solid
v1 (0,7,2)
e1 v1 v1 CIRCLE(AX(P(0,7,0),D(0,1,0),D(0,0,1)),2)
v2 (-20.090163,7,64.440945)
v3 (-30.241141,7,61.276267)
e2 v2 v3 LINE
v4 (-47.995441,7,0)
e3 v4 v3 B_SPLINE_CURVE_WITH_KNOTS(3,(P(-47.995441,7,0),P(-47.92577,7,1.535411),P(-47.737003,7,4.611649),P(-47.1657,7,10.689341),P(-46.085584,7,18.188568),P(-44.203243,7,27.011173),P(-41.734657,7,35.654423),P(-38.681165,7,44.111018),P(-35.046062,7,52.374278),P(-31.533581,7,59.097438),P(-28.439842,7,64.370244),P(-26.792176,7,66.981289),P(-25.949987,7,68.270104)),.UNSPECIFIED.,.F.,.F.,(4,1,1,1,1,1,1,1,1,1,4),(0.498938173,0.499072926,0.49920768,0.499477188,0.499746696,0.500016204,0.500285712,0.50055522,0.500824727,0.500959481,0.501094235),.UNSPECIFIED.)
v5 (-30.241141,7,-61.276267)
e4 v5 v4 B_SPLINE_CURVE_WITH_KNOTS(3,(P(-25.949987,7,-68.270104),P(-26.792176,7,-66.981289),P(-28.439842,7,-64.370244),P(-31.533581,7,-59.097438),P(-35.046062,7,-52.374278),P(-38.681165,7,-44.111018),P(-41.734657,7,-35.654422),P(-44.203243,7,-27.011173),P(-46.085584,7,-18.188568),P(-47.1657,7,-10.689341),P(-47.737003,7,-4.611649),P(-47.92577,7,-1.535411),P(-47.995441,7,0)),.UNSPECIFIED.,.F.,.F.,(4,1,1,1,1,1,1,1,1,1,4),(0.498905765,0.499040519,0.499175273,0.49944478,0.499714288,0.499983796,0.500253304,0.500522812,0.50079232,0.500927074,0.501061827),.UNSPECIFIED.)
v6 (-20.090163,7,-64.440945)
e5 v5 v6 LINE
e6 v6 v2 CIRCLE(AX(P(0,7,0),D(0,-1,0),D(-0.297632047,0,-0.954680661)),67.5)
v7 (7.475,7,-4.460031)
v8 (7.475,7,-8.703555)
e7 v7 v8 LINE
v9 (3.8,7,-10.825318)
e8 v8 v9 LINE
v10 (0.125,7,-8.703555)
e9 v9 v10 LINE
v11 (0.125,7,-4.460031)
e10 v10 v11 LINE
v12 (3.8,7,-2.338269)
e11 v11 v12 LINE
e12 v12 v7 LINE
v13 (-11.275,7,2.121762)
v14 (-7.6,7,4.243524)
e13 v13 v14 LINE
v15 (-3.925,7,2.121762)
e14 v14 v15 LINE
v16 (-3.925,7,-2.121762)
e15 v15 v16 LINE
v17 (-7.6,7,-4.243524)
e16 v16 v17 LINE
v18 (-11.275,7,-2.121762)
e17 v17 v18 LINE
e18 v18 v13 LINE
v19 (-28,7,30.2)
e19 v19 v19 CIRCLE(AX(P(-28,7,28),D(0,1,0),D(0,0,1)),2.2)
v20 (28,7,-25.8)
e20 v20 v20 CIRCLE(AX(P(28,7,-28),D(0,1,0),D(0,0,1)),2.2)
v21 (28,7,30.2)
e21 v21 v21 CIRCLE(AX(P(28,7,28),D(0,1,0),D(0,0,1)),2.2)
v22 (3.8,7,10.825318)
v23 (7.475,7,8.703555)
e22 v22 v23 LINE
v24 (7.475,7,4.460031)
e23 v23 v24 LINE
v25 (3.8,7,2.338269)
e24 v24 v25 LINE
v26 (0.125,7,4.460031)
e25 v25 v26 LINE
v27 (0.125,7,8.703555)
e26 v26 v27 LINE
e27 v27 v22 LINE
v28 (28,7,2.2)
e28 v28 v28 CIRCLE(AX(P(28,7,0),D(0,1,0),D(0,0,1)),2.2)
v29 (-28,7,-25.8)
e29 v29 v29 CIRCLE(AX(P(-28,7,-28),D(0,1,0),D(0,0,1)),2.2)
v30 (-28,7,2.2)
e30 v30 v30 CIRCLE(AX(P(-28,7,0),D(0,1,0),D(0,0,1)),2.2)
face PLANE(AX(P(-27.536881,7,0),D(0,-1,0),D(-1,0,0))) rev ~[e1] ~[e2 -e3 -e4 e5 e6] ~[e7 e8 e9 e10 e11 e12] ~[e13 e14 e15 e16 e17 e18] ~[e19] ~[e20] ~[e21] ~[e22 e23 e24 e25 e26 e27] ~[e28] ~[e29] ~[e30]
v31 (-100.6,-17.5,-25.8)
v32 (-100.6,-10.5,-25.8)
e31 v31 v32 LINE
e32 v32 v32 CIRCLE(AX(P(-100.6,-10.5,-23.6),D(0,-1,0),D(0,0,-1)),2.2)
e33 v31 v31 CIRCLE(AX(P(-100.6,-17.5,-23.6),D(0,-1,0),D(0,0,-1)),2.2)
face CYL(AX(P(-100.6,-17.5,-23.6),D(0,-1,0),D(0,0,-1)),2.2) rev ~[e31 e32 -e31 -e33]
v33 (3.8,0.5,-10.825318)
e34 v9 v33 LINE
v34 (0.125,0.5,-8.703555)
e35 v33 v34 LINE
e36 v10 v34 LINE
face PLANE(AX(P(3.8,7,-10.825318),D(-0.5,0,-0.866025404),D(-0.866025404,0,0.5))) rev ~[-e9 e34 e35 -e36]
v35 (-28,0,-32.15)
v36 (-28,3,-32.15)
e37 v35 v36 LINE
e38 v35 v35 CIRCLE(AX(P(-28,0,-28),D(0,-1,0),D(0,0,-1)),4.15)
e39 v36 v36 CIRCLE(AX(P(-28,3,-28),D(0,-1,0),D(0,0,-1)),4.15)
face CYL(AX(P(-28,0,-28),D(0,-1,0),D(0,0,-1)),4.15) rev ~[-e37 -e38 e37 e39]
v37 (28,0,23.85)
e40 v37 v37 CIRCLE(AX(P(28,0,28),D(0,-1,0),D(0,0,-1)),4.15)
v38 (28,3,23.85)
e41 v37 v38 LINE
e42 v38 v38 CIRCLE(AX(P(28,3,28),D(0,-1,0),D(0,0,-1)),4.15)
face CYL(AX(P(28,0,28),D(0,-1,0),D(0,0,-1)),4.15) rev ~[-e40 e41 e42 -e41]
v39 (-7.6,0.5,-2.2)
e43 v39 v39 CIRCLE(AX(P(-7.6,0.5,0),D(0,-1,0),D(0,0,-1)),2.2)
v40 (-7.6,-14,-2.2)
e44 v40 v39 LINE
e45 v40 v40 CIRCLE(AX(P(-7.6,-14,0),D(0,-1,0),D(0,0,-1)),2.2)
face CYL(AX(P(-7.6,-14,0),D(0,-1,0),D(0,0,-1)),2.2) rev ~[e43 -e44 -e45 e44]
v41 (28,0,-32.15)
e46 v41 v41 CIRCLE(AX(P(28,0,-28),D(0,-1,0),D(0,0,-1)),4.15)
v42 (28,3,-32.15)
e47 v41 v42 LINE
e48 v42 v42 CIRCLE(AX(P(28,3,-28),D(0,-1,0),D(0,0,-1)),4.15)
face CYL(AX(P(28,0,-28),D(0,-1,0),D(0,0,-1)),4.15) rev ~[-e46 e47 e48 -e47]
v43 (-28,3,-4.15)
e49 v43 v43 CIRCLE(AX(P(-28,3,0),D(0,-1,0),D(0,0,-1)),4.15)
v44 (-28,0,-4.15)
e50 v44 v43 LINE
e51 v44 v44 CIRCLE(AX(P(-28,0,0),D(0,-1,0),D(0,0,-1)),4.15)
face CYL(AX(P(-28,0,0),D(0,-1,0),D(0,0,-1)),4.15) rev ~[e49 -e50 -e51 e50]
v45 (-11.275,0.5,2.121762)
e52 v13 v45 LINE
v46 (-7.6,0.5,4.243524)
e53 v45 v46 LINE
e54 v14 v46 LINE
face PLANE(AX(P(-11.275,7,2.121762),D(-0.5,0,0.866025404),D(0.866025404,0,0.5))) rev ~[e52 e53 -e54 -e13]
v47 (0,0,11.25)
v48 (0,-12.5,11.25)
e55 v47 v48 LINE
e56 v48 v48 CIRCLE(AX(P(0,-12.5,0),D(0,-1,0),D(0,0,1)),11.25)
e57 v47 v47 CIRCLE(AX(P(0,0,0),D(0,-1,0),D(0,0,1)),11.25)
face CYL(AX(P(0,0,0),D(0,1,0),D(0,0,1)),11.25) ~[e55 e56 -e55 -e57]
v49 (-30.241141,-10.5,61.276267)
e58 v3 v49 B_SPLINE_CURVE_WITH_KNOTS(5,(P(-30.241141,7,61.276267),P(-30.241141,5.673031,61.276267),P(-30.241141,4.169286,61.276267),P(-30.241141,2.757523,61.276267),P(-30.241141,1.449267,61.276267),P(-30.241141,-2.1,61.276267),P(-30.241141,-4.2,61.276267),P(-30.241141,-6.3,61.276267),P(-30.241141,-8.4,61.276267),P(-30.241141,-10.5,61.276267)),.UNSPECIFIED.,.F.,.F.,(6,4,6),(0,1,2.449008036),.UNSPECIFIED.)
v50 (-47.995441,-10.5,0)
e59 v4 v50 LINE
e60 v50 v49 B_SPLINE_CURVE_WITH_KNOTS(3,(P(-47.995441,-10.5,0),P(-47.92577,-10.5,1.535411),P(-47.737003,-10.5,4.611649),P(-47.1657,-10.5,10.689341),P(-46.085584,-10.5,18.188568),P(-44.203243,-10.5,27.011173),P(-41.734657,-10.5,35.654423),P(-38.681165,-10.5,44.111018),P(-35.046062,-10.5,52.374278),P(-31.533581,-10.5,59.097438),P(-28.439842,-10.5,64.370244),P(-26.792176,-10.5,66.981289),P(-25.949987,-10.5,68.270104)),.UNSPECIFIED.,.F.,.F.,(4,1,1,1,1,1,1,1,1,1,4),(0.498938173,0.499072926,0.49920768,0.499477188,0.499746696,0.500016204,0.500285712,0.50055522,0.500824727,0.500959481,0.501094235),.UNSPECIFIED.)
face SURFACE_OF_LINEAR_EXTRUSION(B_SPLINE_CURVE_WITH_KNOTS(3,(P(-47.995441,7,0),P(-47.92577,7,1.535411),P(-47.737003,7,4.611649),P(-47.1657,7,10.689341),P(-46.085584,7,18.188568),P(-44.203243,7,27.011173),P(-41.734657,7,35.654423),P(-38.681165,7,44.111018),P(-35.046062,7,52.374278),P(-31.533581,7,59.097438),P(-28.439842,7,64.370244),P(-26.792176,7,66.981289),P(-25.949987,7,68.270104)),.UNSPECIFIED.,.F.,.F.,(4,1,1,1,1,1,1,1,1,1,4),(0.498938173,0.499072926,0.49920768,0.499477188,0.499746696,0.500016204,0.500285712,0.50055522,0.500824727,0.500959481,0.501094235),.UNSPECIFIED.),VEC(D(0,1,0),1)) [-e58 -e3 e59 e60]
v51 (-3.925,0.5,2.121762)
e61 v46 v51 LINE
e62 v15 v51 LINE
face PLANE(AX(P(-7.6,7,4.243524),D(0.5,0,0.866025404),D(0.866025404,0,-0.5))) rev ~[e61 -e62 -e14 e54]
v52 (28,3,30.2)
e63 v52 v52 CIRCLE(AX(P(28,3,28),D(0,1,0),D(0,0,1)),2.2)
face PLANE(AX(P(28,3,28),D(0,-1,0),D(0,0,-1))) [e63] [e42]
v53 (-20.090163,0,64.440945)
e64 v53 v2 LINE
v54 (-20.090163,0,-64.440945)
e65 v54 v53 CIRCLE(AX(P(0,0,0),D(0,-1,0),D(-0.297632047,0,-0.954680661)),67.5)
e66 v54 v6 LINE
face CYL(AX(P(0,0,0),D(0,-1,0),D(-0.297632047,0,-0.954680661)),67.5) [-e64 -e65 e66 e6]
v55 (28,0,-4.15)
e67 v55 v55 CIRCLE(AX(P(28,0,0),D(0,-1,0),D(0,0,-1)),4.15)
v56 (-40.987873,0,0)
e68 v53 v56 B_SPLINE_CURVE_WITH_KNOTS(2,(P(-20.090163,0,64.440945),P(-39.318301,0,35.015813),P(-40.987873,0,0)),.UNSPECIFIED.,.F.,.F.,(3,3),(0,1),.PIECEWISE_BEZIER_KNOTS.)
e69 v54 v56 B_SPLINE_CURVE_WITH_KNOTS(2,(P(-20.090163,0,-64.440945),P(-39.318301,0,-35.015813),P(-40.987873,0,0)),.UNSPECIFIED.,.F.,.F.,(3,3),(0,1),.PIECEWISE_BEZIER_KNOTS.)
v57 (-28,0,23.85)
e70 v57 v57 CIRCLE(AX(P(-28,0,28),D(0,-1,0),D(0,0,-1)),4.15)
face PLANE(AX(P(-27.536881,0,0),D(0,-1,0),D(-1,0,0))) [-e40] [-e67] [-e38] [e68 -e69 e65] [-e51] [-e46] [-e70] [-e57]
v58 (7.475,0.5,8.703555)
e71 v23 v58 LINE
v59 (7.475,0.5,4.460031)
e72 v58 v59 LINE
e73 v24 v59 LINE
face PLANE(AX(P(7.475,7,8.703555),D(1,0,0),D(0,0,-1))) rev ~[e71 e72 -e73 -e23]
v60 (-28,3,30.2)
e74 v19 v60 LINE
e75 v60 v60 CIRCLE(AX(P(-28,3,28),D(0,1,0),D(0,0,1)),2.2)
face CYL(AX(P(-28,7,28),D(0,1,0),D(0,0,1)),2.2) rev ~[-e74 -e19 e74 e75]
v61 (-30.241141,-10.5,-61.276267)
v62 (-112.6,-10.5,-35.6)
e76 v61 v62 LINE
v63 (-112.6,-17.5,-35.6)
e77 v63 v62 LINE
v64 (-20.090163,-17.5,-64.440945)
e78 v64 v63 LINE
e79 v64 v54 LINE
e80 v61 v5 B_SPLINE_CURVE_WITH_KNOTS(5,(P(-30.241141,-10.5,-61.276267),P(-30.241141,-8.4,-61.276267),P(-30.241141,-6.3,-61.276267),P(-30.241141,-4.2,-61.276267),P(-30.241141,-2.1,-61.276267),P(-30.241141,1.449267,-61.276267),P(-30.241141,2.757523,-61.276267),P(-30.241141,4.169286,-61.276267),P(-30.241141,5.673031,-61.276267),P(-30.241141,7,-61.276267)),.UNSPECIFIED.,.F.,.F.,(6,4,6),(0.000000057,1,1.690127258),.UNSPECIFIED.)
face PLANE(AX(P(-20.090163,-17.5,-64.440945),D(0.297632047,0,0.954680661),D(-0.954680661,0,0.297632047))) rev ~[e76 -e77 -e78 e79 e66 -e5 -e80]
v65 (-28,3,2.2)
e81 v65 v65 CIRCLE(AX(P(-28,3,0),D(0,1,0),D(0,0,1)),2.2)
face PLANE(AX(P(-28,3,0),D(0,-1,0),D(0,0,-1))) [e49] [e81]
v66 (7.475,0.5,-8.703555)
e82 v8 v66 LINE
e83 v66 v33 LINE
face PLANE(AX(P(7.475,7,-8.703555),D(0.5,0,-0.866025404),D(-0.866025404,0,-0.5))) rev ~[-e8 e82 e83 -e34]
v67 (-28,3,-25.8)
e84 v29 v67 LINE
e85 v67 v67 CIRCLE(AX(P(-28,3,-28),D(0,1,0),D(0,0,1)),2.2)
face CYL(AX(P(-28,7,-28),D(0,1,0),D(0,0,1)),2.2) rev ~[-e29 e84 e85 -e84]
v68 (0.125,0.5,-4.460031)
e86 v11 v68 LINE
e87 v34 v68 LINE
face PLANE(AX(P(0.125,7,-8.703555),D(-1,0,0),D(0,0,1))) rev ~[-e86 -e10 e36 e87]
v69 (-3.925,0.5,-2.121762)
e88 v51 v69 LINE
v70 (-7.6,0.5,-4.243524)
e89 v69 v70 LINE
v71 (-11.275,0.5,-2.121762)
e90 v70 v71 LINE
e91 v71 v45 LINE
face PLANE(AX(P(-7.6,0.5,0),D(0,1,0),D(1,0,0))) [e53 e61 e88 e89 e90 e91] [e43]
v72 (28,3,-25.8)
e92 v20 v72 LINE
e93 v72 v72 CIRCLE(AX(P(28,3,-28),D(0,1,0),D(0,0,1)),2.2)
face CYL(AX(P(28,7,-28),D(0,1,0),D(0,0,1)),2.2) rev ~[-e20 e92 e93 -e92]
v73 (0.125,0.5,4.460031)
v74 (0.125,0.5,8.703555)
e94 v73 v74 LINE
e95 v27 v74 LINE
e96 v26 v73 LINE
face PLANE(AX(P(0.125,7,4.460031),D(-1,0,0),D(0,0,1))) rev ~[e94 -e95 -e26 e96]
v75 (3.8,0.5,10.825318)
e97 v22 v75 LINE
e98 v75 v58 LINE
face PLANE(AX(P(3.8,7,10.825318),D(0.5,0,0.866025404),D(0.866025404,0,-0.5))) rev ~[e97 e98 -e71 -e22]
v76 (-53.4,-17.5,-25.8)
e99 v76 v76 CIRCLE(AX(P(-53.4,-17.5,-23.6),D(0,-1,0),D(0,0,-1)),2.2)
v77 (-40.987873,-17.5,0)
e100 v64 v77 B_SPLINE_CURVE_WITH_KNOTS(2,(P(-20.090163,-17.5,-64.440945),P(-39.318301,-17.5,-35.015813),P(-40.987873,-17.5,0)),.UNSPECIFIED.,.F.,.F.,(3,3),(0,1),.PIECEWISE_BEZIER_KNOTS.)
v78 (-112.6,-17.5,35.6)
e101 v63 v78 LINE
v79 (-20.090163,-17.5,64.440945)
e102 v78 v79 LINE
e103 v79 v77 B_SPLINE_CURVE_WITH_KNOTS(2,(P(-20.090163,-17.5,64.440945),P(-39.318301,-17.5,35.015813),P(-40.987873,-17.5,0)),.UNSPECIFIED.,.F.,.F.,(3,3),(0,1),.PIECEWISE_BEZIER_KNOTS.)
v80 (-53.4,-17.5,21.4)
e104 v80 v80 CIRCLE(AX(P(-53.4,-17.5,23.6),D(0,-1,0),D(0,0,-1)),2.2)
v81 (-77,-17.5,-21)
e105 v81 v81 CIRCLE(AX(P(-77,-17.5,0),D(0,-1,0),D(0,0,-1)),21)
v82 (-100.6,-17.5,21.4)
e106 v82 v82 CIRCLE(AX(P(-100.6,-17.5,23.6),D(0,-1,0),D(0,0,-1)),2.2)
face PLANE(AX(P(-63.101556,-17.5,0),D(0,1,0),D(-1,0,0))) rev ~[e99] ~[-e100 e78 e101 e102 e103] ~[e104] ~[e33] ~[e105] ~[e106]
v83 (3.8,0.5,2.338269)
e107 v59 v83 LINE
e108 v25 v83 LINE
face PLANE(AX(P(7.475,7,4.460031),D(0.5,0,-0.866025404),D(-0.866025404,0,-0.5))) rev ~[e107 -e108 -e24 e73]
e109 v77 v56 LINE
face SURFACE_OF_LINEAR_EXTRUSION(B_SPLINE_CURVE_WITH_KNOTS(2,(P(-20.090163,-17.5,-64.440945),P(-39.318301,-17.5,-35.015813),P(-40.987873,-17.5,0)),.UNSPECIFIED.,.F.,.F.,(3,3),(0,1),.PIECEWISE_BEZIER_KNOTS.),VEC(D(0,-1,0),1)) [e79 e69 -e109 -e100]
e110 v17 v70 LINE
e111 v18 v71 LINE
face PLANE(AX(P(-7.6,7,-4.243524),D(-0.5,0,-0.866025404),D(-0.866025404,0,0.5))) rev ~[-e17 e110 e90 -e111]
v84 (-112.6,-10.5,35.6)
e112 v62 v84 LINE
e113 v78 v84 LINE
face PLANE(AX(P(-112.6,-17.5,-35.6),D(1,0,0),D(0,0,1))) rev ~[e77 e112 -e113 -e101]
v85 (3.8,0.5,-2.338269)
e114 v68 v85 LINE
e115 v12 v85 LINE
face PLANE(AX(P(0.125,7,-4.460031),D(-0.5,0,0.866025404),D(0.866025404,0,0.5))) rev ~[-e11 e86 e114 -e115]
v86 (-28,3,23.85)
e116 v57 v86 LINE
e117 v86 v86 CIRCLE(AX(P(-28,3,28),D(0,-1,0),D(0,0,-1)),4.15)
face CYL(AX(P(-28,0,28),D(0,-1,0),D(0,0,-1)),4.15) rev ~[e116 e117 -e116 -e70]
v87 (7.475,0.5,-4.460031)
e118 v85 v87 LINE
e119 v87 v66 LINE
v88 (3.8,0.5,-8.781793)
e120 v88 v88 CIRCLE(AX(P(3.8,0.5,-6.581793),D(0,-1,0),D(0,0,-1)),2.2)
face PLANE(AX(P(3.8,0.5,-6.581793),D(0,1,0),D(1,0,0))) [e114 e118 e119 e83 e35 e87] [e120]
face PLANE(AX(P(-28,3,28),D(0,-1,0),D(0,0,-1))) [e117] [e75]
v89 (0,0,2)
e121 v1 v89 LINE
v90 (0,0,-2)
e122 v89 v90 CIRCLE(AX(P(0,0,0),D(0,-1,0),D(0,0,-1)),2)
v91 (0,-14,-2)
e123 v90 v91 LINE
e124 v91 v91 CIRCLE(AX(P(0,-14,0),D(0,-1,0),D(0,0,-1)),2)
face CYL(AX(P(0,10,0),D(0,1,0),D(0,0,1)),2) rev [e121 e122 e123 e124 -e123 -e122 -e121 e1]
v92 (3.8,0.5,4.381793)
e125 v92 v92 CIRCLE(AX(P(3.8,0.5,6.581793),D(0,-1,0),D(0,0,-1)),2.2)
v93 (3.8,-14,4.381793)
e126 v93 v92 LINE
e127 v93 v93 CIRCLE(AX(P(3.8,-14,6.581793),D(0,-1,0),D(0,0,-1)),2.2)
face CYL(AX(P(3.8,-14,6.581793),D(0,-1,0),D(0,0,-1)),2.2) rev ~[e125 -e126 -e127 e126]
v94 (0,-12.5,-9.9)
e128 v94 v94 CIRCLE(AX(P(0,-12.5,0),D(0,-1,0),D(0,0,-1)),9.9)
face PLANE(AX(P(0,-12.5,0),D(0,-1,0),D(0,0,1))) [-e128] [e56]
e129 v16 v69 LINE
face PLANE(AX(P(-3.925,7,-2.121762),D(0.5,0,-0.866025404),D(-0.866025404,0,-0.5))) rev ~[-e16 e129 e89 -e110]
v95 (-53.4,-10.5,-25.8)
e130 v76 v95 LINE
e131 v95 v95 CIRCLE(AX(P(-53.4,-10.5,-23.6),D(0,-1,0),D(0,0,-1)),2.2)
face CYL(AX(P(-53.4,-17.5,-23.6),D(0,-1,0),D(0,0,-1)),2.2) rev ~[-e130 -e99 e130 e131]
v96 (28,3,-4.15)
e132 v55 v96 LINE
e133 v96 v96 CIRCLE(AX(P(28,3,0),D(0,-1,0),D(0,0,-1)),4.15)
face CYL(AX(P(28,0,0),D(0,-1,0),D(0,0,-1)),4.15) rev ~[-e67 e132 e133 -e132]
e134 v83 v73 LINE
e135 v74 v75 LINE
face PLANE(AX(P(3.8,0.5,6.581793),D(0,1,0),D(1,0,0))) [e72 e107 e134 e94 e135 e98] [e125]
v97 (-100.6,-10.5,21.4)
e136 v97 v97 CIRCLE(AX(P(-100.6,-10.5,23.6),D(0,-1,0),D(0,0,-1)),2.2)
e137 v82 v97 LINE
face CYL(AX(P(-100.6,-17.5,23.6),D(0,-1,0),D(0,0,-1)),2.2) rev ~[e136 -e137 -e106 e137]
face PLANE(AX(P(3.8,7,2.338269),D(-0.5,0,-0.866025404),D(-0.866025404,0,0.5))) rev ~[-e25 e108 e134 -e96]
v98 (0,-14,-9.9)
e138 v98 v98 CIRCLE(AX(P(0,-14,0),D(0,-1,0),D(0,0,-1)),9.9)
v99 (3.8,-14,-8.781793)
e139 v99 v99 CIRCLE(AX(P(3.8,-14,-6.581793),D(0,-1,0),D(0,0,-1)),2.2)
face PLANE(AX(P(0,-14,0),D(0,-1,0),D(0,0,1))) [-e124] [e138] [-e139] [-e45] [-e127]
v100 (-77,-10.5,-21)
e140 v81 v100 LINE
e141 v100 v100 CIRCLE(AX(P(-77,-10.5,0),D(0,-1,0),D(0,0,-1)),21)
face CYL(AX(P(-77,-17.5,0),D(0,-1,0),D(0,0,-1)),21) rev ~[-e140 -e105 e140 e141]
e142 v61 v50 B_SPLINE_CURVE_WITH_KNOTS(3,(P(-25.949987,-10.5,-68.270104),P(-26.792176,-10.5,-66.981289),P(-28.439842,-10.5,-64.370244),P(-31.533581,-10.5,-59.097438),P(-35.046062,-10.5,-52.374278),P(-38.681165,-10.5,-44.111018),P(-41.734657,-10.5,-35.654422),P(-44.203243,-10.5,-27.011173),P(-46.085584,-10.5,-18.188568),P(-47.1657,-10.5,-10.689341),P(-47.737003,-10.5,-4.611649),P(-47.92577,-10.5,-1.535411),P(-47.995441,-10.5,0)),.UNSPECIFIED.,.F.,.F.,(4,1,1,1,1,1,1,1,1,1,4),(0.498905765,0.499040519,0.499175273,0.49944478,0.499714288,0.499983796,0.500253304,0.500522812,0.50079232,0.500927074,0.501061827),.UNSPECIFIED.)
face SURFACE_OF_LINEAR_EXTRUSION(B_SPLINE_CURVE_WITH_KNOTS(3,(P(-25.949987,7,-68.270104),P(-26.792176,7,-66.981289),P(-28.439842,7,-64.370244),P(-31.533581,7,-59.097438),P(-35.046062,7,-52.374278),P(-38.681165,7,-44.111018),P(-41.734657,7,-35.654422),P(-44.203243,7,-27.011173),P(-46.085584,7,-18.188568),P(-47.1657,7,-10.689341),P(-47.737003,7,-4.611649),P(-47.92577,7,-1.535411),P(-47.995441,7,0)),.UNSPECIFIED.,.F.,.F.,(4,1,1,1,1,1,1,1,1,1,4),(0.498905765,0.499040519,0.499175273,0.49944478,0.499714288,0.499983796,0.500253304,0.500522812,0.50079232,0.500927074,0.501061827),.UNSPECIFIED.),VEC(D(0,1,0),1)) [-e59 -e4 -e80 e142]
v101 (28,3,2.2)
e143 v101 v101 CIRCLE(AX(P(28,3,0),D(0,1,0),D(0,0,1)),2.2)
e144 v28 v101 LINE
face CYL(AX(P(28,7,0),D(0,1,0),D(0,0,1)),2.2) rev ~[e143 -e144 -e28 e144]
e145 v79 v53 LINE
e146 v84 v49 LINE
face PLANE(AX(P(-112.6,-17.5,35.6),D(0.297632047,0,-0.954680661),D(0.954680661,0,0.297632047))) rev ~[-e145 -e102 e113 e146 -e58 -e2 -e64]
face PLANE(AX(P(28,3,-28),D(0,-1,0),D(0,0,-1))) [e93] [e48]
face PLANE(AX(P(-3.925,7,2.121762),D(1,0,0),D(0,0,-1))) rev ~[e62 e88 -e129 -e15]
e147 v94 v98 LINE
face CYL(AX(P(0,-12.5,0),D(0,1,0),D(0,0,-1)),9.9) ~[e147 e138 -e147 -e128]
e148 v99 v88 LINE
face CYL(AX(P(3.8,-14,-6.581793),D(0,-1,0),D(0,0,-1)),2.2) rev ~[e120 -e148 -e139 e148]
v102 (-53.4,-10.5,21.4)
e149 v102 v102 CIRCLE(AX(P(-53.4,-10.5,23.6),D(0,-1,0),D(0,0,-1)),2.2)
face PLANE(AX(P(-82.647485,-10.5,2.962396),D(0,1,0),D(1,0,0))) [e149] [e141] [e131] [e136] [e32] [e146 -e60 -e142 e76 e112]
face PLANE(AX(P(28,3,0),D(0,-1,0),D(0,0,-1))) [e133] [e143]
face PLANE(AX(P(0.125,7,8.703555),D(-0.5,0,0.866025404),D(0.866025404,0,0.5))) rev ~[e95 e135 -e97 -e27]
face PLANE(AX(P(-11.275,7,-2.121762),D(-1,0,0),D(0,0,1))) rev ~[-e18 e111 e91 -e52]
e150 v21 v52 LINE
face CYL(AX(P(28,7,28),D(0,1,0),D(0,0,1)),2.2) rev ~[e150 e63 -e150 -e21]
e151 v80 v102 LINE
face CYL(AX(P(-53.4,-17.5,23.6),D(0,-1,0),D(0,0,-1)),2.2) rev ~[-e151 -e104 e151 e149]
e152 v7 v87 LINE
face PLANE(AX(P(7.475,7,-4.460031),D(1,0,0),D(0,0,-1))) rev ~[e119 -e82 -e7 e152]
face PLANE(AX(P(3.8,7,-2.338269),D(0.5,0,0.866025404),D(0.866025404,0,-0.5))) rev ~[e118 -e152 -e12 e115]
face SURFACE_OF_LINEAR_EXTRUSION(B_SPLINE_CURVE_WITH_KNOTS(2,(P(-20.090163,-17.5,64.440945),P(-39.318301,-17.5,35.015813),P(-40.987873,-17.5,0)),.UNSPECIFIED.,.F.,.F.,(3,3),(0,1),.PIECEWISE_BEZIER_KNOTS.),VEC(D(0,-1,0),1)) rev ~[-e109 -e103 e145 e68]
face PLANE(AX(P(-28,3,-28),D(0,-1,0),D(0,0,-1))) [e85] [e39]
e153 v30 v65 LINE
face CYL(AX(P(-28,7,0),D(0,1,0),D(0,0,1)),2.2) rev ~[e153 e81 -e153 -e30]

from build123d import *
from build123d.topology import SkipClean

# Parameters (mm, degrees)
SKETCH1_R           = 21
SKETCH1_R_2         = 2.2
BOSS_EXTRUDE1_DEPTH = 7
SKETCH3_R           = 11.25
SKETCH3_R_2         = 2
BOSS_EXTRUDE2_DEPTH = 14
CUT_EXTRUDE1_START  = -1.5
SKETCH4_R           = 11.25
SKETCH4_R_2         = 9.9
CUT_EXTRUDE1_DEPTH  = 1.5
SKETCH5_R           = 2.2
CUT_EXTRUDE2_DEPTH  = 133.951156445
CUT_EXTRUDE3_DEPTH  = 6.5
CUT_EXTRUDE4_START  = -10
SKETCH7_R           = 2
CUT_EXTRUDE4_DEPTH  = 10
SKETCH8_R           = 2.2
CUT_EXTRUDE5_DEPTH  = 133.951156445
SKETCH9_R           = 4.15
CUT_EXTRUDE6_DEPTH  = 3
BOSS_EXTRUDE3_START = 17.5
SKETCH10_R          = 21
SKETCH10_R_2        = 2.2
BOSS_EXTRUDE3_DEPTH = 17.5
CUT_EXTRUDE7_DEPTH  = 17.5


with BuildPart() as part:
    # Sketch1 → Boss-Extrude1 (new body)
    with BuildSketch(Plane(origin=(0, 0, 0), x_dir=(1, 0, 0), z_dir=(0, 1, 0))):
        with BuildLine():
            Line((-112.6, -35.6), (-112.6, 35.6))
            Line((-112.6, 35.6), (-20.090163155, 64.440944627))
            ThreePointArc((-20.090163155, 64.440944627), (67.5, 0), (-20.090163155, -64.440944627))
            Line((-20.090163155, -64.440944627), (-112.6, -35.6))
        make_face()
        with Locations(Location((-77, 0, 0), (0, 0, 270))):
            Circle(SKETCH1_R, mode=Mode.SUBTRACT)
        with Locations(Location((-100.6, 23.6, 0), (0, 0, 270))):
            Circle(SKETCH1_R_2, mode=Mode.SUBTRACT)
        with Locations(Location((-100.6, -23.6, 0), (0, 0, 270))):
            Circle(SKETCH1_R_2, mode=Mode.SUBTRACT)
        with Locations(Location((-53.4, -23.6, 0), (0, 0, 270))):
            Circle(SKETCH1_R_2, mode=Mode.SUBTRACT)
        with Locations(Location((-53.4, 23.6, 0), (0, 0, 270))):
            Circle(SKETCH1_R_2, mode=Mode.SUBTRACT)
    extrude(amount=BOSS_EXTRUDE1_DEPTH)

    # Sketch3 → Boss-Extrude2 (add)
    with BuildSketch(Plane.XZ):
        with Locations(Location((0, 0, 0), (0, 0, 90))):
            Circle(SKETCH3_R)
        with Locations(Location((0, 0, 0), (0, 0, 270))):
            Circle(SKETCH3_R_2, mode=Mode.SUBTRACT)
    extrude(amount=BOSS_EXTRUDE2_DEPTH)

    # Sketch4 → Cut-Extrude1 (cut)
    with BuildSketch(Plane.XZ.offset(14).offset(CUT_EXTRUDE1_START)):
        with Locations(Location((0, 0, 0), (0, 0, 90))):
            Circle(SKETCH4_R)
        with Locations(Location((0, 0, 0), (0, 0, 270))):
            Circle(SKETCH4_R_2, mode=Mode.SUBTRACT)
    extrude(amount=CUT_EXTRUDE1_DEPTH, mode=Mode.SUBTRACT)

    # Sketch5 → Cut-Extrude2 (cut, through all)
    with BuildSketch(Plane.XZ.offset(14)):
        with Locations(Location((-7.6, 0, 0), (0, 0, 270))):
            Circle(SKETCH5_R)
        with Locations(Location((3.8, 6.581793069, 0), (0, 0, 270))):
            Circle(SKETCH5_R)
        with Locations(Location((3.8, -6.581793069, 0), (0, 0, 270))):
            Circle(SKETCH5_R)
    extrude(amount=-CUT_EXTRUDE2_DEPTH, mode=Mode.SUBTRACT)

    # Sketch6 → Cut-Extrude3 (cut)
    with BuildSketch(Plane(origin=(0, 7, 0), x_dir=(1, 0, 0), z_dir=(0, 1, 0))):
        Polygon((3.8, 2.33826859), (7.475, 4.460030829), (7.475, 8.703555308), (3.8, 10.825317547), (0.125, 8.703555308), (0.125, 4.460030829), align=None)
        Polygon((-7.6, -4.243524479), (-3.925, -2.121762239), (-3.925, 2.121762239), (-7.6, 4.243524479), (-11.275, 2.121762239), (-11.275, -2.121762239), align=None)
        Polygon((0.125, -4.460030829), (0.125, -8.703555308), (3.8, -10.825317547), (7.475, -8.703555308), (7.475, -4.460030829), (3.8, -2.33826859), align=None)
    extrude(amount=-CUT_EXTRUDE3_DEPTH, mode=Mode.SUBTRACT)

    # Sketch7 → Cut-Extrude4 (cut)
    with BuildSketch(Plane.XZ.offset(CUT_EXTRUDE4_START)):
        with Locations(Location((0, 0, 0), (0, 0, 90))):
            Circle(SKETCH7_R)
    extrude(amount=CUT_EXTRUDE4_DEPTH, mode=Mode.SUBTRACT)

    # Sketch8 → Cut-Extrude5 (cut, through all)
    with BuildSketch(Plane(origin=(0, 7, 0), x_dir=(1, 0, 0), z_dir=(0, 1, 0))):
        with Locations(Location((-28, 0, 0), (0, 0, 270))):
            Circle(SKETCH8_R)
        with Locations(Location((28, 0, 0), (0, 0, 270))):
            Circle(SKETCH8_R)
        with Locations(Location((28, 28, 0), (0, 0, 270))):
            Circle(SKETCH8_R)
        with Locations(Location((-28, 28, 0), (0, 0, 270))):
            Circle(SKETCH8_R)
        with Locations(Location((-28, -28, 0), (0, 0, 270))):
            Circle(SKETCH8_R)
        with Locations(Location((28, -28, 0), (0, 0, 270))):
            Circle(SKETCH8_R)
    extrude(amount=-CUT_EXTRUDE5_DEPTH, mode=Mode.SUBTRACT)

    # Sketch9 → Cut-Extrude6 (cut)
    with BuildSketch(Plane.XZ):
        with Locations(Location((-28, 28, 0), (0, 0, 270))):
            Circle(SKETCH9_R)
        with Locations(Location((28, 28, 0), (0, 0, 270))):
            Circle(SKETCH9_R)
        with Locations(Location((-28, 0, 0), (0, 0, 270))):
            Circle(SKETCH9_R)
        with Locations(Location((28, 0, 0), (0, 0, 270))):
            Circle(SKETCH9_R)
        with Locations(Location((-28, -28, 0), (0, 0, 270))):
            Circle(SKETCH9_R)
        with Locations(Location((28, -28, 0), (0, 0, 270))):
            Circle(SKETCH9_R)
    extrude(amount=-CUT_EXTRUDE6_DEPTH, mode=Mode.SUBTRACT)

    # Sketch10 → Boss-Extrude3 (add)
    with SkipClean():  # the faces are left unmerged after this step: merging them gives an invalid solid
        with BuildSketch(Plane.XZ.offset(BOSS_EXTRUDE3_START)):
            with BuildLine():
                Line((-20.090163155, -64.440944627), (-112.6, -35.6))
                Line((-112.6, -35.6), (-112.6, 35.6))
                Line((-112.6, 35.6), (-20.090163155, 64.440944627))
                add(Edge.make_bspline(
                    [(-20.090163155, 64.440944627), (-39.318301135, 35.015813189), (-40.987873114, 0)],
                    knots=[0, 0, 0, 1, 1, 1], degree=2))
                add(Edge.make_bspline(
                    [(-20.090163155, -64.440944627), (-39.318301135, -35.015813189), (-40.987873114, 0)],
                    knots=[0, 0, 0, 1, 1, 1], degree=2))
            make_face()
            with Locations(Location((-77, 0, 0), (0, 0, 270))):
                Circle(SKETCH10_R, mode=Mode.SUBTRACT)
            with Locations(Location((-100.6, 23.6, 0), (0, 0, 270))):
                Circle(SKETCH10_R_2, mode=Mode.SUBTRACT)
            with Locations(Location((-53.4, 23.6, 0), (0, 0, 270))):
                Circle(SKETCH10_R_2, mode=Mode.SUBTRACT)
            with Locations(Location((-53.4, -23.6, 0), (0, 0, 270))):
                Circle(SKETCH10_R_2, mode=Mode.SUBTRACT)
            with Locations(Location((-100.6, -23.6, 0), (0, 0, 270))):
                Circle(SKETCH10_R_2, mode=Mode.SUBTRACT)
        extrude(amount=-BOSS_EXTRUDE3_DEPTH)

    # Sketch11 → Cut-Extrude7 (cut)
    with BuildSketch(Plane(origin=(0, 7, 0), x_dir=(1, 0, 0), z_dir=(0, 1, 0))):
        with BuildLine():
            Line((-25.949987435, 68.270103726), (-139.321617663, 44.018727608))
            Line((-139.321617663, 44.018727608), (-144.313851883, -55.417541664))
            Line((-144.313851883, -55.417541664), (-25.949987435, -68.270103726))
            add(Edge.make_bspline(
                [(-47.995441412, -1e-09), (-47.925769838, -1.535411027), (-47.737002645, -4.611648854), (-47.165699577, -10.689341017), (-46.085583629, -18.188567618), (-44.203243401, -27.011172833), (-41.734657134, -35.6544225), (-38.681165485, -44.111018236), (-35.046062429, -52.374277572), (-31.533581002, -59.097437671), (-28.439841721, -64.370244449), (-26.792175769, -66.981289258), (-25.949987435, -68.270103726)],
                knots=[0.498938173, 0.498938173, 0.498938173, 0.498938173, 0.499072926, 0.49920768, 0.499477188, 0.499746696, 0.500016204, 0.500285712, 0.50055522, 0.500824727, 0.500959481, 0.501094235, 0.501094235, 0.501094235, 0.501094235], degree=3))
            add(Edge.make_bspline(
                [(-25.949987435, 68.270103726), (-26.792175769, 66.981289258), (-28.439841721, 64.370244449), (-31.533581002, 59.097437671), (-35.046062429, 52.374277572), (-38.681165485, 44.111018235), (-41.734657134, 35.654422499), (-44.203243402, 27.011172832), (-46.085583629, 18.188567617), (-47.165699577, 10.689341015), (-47.737002645, 4.611648852), (-47.925769838, 1.535411025), (-47.995441412, -1e-09)],
                knots=[0.498905765, 0.498905765, 0.498905765, 0.498905765, 0.499040519, 0.499175273, 0.49944478, 0.499714288, 0.499983796, 0.500253304, 0.500522812, 0.50079232, 0.500927074, 0.501061827, 0.501061827, 0.501061827, 0.501061827], degree=3))
        make_face()
    extrude(amount=-CUT_EXTRUDE7_DEPTH, mode=Mode.SUBTRACT)


solid = part.part
